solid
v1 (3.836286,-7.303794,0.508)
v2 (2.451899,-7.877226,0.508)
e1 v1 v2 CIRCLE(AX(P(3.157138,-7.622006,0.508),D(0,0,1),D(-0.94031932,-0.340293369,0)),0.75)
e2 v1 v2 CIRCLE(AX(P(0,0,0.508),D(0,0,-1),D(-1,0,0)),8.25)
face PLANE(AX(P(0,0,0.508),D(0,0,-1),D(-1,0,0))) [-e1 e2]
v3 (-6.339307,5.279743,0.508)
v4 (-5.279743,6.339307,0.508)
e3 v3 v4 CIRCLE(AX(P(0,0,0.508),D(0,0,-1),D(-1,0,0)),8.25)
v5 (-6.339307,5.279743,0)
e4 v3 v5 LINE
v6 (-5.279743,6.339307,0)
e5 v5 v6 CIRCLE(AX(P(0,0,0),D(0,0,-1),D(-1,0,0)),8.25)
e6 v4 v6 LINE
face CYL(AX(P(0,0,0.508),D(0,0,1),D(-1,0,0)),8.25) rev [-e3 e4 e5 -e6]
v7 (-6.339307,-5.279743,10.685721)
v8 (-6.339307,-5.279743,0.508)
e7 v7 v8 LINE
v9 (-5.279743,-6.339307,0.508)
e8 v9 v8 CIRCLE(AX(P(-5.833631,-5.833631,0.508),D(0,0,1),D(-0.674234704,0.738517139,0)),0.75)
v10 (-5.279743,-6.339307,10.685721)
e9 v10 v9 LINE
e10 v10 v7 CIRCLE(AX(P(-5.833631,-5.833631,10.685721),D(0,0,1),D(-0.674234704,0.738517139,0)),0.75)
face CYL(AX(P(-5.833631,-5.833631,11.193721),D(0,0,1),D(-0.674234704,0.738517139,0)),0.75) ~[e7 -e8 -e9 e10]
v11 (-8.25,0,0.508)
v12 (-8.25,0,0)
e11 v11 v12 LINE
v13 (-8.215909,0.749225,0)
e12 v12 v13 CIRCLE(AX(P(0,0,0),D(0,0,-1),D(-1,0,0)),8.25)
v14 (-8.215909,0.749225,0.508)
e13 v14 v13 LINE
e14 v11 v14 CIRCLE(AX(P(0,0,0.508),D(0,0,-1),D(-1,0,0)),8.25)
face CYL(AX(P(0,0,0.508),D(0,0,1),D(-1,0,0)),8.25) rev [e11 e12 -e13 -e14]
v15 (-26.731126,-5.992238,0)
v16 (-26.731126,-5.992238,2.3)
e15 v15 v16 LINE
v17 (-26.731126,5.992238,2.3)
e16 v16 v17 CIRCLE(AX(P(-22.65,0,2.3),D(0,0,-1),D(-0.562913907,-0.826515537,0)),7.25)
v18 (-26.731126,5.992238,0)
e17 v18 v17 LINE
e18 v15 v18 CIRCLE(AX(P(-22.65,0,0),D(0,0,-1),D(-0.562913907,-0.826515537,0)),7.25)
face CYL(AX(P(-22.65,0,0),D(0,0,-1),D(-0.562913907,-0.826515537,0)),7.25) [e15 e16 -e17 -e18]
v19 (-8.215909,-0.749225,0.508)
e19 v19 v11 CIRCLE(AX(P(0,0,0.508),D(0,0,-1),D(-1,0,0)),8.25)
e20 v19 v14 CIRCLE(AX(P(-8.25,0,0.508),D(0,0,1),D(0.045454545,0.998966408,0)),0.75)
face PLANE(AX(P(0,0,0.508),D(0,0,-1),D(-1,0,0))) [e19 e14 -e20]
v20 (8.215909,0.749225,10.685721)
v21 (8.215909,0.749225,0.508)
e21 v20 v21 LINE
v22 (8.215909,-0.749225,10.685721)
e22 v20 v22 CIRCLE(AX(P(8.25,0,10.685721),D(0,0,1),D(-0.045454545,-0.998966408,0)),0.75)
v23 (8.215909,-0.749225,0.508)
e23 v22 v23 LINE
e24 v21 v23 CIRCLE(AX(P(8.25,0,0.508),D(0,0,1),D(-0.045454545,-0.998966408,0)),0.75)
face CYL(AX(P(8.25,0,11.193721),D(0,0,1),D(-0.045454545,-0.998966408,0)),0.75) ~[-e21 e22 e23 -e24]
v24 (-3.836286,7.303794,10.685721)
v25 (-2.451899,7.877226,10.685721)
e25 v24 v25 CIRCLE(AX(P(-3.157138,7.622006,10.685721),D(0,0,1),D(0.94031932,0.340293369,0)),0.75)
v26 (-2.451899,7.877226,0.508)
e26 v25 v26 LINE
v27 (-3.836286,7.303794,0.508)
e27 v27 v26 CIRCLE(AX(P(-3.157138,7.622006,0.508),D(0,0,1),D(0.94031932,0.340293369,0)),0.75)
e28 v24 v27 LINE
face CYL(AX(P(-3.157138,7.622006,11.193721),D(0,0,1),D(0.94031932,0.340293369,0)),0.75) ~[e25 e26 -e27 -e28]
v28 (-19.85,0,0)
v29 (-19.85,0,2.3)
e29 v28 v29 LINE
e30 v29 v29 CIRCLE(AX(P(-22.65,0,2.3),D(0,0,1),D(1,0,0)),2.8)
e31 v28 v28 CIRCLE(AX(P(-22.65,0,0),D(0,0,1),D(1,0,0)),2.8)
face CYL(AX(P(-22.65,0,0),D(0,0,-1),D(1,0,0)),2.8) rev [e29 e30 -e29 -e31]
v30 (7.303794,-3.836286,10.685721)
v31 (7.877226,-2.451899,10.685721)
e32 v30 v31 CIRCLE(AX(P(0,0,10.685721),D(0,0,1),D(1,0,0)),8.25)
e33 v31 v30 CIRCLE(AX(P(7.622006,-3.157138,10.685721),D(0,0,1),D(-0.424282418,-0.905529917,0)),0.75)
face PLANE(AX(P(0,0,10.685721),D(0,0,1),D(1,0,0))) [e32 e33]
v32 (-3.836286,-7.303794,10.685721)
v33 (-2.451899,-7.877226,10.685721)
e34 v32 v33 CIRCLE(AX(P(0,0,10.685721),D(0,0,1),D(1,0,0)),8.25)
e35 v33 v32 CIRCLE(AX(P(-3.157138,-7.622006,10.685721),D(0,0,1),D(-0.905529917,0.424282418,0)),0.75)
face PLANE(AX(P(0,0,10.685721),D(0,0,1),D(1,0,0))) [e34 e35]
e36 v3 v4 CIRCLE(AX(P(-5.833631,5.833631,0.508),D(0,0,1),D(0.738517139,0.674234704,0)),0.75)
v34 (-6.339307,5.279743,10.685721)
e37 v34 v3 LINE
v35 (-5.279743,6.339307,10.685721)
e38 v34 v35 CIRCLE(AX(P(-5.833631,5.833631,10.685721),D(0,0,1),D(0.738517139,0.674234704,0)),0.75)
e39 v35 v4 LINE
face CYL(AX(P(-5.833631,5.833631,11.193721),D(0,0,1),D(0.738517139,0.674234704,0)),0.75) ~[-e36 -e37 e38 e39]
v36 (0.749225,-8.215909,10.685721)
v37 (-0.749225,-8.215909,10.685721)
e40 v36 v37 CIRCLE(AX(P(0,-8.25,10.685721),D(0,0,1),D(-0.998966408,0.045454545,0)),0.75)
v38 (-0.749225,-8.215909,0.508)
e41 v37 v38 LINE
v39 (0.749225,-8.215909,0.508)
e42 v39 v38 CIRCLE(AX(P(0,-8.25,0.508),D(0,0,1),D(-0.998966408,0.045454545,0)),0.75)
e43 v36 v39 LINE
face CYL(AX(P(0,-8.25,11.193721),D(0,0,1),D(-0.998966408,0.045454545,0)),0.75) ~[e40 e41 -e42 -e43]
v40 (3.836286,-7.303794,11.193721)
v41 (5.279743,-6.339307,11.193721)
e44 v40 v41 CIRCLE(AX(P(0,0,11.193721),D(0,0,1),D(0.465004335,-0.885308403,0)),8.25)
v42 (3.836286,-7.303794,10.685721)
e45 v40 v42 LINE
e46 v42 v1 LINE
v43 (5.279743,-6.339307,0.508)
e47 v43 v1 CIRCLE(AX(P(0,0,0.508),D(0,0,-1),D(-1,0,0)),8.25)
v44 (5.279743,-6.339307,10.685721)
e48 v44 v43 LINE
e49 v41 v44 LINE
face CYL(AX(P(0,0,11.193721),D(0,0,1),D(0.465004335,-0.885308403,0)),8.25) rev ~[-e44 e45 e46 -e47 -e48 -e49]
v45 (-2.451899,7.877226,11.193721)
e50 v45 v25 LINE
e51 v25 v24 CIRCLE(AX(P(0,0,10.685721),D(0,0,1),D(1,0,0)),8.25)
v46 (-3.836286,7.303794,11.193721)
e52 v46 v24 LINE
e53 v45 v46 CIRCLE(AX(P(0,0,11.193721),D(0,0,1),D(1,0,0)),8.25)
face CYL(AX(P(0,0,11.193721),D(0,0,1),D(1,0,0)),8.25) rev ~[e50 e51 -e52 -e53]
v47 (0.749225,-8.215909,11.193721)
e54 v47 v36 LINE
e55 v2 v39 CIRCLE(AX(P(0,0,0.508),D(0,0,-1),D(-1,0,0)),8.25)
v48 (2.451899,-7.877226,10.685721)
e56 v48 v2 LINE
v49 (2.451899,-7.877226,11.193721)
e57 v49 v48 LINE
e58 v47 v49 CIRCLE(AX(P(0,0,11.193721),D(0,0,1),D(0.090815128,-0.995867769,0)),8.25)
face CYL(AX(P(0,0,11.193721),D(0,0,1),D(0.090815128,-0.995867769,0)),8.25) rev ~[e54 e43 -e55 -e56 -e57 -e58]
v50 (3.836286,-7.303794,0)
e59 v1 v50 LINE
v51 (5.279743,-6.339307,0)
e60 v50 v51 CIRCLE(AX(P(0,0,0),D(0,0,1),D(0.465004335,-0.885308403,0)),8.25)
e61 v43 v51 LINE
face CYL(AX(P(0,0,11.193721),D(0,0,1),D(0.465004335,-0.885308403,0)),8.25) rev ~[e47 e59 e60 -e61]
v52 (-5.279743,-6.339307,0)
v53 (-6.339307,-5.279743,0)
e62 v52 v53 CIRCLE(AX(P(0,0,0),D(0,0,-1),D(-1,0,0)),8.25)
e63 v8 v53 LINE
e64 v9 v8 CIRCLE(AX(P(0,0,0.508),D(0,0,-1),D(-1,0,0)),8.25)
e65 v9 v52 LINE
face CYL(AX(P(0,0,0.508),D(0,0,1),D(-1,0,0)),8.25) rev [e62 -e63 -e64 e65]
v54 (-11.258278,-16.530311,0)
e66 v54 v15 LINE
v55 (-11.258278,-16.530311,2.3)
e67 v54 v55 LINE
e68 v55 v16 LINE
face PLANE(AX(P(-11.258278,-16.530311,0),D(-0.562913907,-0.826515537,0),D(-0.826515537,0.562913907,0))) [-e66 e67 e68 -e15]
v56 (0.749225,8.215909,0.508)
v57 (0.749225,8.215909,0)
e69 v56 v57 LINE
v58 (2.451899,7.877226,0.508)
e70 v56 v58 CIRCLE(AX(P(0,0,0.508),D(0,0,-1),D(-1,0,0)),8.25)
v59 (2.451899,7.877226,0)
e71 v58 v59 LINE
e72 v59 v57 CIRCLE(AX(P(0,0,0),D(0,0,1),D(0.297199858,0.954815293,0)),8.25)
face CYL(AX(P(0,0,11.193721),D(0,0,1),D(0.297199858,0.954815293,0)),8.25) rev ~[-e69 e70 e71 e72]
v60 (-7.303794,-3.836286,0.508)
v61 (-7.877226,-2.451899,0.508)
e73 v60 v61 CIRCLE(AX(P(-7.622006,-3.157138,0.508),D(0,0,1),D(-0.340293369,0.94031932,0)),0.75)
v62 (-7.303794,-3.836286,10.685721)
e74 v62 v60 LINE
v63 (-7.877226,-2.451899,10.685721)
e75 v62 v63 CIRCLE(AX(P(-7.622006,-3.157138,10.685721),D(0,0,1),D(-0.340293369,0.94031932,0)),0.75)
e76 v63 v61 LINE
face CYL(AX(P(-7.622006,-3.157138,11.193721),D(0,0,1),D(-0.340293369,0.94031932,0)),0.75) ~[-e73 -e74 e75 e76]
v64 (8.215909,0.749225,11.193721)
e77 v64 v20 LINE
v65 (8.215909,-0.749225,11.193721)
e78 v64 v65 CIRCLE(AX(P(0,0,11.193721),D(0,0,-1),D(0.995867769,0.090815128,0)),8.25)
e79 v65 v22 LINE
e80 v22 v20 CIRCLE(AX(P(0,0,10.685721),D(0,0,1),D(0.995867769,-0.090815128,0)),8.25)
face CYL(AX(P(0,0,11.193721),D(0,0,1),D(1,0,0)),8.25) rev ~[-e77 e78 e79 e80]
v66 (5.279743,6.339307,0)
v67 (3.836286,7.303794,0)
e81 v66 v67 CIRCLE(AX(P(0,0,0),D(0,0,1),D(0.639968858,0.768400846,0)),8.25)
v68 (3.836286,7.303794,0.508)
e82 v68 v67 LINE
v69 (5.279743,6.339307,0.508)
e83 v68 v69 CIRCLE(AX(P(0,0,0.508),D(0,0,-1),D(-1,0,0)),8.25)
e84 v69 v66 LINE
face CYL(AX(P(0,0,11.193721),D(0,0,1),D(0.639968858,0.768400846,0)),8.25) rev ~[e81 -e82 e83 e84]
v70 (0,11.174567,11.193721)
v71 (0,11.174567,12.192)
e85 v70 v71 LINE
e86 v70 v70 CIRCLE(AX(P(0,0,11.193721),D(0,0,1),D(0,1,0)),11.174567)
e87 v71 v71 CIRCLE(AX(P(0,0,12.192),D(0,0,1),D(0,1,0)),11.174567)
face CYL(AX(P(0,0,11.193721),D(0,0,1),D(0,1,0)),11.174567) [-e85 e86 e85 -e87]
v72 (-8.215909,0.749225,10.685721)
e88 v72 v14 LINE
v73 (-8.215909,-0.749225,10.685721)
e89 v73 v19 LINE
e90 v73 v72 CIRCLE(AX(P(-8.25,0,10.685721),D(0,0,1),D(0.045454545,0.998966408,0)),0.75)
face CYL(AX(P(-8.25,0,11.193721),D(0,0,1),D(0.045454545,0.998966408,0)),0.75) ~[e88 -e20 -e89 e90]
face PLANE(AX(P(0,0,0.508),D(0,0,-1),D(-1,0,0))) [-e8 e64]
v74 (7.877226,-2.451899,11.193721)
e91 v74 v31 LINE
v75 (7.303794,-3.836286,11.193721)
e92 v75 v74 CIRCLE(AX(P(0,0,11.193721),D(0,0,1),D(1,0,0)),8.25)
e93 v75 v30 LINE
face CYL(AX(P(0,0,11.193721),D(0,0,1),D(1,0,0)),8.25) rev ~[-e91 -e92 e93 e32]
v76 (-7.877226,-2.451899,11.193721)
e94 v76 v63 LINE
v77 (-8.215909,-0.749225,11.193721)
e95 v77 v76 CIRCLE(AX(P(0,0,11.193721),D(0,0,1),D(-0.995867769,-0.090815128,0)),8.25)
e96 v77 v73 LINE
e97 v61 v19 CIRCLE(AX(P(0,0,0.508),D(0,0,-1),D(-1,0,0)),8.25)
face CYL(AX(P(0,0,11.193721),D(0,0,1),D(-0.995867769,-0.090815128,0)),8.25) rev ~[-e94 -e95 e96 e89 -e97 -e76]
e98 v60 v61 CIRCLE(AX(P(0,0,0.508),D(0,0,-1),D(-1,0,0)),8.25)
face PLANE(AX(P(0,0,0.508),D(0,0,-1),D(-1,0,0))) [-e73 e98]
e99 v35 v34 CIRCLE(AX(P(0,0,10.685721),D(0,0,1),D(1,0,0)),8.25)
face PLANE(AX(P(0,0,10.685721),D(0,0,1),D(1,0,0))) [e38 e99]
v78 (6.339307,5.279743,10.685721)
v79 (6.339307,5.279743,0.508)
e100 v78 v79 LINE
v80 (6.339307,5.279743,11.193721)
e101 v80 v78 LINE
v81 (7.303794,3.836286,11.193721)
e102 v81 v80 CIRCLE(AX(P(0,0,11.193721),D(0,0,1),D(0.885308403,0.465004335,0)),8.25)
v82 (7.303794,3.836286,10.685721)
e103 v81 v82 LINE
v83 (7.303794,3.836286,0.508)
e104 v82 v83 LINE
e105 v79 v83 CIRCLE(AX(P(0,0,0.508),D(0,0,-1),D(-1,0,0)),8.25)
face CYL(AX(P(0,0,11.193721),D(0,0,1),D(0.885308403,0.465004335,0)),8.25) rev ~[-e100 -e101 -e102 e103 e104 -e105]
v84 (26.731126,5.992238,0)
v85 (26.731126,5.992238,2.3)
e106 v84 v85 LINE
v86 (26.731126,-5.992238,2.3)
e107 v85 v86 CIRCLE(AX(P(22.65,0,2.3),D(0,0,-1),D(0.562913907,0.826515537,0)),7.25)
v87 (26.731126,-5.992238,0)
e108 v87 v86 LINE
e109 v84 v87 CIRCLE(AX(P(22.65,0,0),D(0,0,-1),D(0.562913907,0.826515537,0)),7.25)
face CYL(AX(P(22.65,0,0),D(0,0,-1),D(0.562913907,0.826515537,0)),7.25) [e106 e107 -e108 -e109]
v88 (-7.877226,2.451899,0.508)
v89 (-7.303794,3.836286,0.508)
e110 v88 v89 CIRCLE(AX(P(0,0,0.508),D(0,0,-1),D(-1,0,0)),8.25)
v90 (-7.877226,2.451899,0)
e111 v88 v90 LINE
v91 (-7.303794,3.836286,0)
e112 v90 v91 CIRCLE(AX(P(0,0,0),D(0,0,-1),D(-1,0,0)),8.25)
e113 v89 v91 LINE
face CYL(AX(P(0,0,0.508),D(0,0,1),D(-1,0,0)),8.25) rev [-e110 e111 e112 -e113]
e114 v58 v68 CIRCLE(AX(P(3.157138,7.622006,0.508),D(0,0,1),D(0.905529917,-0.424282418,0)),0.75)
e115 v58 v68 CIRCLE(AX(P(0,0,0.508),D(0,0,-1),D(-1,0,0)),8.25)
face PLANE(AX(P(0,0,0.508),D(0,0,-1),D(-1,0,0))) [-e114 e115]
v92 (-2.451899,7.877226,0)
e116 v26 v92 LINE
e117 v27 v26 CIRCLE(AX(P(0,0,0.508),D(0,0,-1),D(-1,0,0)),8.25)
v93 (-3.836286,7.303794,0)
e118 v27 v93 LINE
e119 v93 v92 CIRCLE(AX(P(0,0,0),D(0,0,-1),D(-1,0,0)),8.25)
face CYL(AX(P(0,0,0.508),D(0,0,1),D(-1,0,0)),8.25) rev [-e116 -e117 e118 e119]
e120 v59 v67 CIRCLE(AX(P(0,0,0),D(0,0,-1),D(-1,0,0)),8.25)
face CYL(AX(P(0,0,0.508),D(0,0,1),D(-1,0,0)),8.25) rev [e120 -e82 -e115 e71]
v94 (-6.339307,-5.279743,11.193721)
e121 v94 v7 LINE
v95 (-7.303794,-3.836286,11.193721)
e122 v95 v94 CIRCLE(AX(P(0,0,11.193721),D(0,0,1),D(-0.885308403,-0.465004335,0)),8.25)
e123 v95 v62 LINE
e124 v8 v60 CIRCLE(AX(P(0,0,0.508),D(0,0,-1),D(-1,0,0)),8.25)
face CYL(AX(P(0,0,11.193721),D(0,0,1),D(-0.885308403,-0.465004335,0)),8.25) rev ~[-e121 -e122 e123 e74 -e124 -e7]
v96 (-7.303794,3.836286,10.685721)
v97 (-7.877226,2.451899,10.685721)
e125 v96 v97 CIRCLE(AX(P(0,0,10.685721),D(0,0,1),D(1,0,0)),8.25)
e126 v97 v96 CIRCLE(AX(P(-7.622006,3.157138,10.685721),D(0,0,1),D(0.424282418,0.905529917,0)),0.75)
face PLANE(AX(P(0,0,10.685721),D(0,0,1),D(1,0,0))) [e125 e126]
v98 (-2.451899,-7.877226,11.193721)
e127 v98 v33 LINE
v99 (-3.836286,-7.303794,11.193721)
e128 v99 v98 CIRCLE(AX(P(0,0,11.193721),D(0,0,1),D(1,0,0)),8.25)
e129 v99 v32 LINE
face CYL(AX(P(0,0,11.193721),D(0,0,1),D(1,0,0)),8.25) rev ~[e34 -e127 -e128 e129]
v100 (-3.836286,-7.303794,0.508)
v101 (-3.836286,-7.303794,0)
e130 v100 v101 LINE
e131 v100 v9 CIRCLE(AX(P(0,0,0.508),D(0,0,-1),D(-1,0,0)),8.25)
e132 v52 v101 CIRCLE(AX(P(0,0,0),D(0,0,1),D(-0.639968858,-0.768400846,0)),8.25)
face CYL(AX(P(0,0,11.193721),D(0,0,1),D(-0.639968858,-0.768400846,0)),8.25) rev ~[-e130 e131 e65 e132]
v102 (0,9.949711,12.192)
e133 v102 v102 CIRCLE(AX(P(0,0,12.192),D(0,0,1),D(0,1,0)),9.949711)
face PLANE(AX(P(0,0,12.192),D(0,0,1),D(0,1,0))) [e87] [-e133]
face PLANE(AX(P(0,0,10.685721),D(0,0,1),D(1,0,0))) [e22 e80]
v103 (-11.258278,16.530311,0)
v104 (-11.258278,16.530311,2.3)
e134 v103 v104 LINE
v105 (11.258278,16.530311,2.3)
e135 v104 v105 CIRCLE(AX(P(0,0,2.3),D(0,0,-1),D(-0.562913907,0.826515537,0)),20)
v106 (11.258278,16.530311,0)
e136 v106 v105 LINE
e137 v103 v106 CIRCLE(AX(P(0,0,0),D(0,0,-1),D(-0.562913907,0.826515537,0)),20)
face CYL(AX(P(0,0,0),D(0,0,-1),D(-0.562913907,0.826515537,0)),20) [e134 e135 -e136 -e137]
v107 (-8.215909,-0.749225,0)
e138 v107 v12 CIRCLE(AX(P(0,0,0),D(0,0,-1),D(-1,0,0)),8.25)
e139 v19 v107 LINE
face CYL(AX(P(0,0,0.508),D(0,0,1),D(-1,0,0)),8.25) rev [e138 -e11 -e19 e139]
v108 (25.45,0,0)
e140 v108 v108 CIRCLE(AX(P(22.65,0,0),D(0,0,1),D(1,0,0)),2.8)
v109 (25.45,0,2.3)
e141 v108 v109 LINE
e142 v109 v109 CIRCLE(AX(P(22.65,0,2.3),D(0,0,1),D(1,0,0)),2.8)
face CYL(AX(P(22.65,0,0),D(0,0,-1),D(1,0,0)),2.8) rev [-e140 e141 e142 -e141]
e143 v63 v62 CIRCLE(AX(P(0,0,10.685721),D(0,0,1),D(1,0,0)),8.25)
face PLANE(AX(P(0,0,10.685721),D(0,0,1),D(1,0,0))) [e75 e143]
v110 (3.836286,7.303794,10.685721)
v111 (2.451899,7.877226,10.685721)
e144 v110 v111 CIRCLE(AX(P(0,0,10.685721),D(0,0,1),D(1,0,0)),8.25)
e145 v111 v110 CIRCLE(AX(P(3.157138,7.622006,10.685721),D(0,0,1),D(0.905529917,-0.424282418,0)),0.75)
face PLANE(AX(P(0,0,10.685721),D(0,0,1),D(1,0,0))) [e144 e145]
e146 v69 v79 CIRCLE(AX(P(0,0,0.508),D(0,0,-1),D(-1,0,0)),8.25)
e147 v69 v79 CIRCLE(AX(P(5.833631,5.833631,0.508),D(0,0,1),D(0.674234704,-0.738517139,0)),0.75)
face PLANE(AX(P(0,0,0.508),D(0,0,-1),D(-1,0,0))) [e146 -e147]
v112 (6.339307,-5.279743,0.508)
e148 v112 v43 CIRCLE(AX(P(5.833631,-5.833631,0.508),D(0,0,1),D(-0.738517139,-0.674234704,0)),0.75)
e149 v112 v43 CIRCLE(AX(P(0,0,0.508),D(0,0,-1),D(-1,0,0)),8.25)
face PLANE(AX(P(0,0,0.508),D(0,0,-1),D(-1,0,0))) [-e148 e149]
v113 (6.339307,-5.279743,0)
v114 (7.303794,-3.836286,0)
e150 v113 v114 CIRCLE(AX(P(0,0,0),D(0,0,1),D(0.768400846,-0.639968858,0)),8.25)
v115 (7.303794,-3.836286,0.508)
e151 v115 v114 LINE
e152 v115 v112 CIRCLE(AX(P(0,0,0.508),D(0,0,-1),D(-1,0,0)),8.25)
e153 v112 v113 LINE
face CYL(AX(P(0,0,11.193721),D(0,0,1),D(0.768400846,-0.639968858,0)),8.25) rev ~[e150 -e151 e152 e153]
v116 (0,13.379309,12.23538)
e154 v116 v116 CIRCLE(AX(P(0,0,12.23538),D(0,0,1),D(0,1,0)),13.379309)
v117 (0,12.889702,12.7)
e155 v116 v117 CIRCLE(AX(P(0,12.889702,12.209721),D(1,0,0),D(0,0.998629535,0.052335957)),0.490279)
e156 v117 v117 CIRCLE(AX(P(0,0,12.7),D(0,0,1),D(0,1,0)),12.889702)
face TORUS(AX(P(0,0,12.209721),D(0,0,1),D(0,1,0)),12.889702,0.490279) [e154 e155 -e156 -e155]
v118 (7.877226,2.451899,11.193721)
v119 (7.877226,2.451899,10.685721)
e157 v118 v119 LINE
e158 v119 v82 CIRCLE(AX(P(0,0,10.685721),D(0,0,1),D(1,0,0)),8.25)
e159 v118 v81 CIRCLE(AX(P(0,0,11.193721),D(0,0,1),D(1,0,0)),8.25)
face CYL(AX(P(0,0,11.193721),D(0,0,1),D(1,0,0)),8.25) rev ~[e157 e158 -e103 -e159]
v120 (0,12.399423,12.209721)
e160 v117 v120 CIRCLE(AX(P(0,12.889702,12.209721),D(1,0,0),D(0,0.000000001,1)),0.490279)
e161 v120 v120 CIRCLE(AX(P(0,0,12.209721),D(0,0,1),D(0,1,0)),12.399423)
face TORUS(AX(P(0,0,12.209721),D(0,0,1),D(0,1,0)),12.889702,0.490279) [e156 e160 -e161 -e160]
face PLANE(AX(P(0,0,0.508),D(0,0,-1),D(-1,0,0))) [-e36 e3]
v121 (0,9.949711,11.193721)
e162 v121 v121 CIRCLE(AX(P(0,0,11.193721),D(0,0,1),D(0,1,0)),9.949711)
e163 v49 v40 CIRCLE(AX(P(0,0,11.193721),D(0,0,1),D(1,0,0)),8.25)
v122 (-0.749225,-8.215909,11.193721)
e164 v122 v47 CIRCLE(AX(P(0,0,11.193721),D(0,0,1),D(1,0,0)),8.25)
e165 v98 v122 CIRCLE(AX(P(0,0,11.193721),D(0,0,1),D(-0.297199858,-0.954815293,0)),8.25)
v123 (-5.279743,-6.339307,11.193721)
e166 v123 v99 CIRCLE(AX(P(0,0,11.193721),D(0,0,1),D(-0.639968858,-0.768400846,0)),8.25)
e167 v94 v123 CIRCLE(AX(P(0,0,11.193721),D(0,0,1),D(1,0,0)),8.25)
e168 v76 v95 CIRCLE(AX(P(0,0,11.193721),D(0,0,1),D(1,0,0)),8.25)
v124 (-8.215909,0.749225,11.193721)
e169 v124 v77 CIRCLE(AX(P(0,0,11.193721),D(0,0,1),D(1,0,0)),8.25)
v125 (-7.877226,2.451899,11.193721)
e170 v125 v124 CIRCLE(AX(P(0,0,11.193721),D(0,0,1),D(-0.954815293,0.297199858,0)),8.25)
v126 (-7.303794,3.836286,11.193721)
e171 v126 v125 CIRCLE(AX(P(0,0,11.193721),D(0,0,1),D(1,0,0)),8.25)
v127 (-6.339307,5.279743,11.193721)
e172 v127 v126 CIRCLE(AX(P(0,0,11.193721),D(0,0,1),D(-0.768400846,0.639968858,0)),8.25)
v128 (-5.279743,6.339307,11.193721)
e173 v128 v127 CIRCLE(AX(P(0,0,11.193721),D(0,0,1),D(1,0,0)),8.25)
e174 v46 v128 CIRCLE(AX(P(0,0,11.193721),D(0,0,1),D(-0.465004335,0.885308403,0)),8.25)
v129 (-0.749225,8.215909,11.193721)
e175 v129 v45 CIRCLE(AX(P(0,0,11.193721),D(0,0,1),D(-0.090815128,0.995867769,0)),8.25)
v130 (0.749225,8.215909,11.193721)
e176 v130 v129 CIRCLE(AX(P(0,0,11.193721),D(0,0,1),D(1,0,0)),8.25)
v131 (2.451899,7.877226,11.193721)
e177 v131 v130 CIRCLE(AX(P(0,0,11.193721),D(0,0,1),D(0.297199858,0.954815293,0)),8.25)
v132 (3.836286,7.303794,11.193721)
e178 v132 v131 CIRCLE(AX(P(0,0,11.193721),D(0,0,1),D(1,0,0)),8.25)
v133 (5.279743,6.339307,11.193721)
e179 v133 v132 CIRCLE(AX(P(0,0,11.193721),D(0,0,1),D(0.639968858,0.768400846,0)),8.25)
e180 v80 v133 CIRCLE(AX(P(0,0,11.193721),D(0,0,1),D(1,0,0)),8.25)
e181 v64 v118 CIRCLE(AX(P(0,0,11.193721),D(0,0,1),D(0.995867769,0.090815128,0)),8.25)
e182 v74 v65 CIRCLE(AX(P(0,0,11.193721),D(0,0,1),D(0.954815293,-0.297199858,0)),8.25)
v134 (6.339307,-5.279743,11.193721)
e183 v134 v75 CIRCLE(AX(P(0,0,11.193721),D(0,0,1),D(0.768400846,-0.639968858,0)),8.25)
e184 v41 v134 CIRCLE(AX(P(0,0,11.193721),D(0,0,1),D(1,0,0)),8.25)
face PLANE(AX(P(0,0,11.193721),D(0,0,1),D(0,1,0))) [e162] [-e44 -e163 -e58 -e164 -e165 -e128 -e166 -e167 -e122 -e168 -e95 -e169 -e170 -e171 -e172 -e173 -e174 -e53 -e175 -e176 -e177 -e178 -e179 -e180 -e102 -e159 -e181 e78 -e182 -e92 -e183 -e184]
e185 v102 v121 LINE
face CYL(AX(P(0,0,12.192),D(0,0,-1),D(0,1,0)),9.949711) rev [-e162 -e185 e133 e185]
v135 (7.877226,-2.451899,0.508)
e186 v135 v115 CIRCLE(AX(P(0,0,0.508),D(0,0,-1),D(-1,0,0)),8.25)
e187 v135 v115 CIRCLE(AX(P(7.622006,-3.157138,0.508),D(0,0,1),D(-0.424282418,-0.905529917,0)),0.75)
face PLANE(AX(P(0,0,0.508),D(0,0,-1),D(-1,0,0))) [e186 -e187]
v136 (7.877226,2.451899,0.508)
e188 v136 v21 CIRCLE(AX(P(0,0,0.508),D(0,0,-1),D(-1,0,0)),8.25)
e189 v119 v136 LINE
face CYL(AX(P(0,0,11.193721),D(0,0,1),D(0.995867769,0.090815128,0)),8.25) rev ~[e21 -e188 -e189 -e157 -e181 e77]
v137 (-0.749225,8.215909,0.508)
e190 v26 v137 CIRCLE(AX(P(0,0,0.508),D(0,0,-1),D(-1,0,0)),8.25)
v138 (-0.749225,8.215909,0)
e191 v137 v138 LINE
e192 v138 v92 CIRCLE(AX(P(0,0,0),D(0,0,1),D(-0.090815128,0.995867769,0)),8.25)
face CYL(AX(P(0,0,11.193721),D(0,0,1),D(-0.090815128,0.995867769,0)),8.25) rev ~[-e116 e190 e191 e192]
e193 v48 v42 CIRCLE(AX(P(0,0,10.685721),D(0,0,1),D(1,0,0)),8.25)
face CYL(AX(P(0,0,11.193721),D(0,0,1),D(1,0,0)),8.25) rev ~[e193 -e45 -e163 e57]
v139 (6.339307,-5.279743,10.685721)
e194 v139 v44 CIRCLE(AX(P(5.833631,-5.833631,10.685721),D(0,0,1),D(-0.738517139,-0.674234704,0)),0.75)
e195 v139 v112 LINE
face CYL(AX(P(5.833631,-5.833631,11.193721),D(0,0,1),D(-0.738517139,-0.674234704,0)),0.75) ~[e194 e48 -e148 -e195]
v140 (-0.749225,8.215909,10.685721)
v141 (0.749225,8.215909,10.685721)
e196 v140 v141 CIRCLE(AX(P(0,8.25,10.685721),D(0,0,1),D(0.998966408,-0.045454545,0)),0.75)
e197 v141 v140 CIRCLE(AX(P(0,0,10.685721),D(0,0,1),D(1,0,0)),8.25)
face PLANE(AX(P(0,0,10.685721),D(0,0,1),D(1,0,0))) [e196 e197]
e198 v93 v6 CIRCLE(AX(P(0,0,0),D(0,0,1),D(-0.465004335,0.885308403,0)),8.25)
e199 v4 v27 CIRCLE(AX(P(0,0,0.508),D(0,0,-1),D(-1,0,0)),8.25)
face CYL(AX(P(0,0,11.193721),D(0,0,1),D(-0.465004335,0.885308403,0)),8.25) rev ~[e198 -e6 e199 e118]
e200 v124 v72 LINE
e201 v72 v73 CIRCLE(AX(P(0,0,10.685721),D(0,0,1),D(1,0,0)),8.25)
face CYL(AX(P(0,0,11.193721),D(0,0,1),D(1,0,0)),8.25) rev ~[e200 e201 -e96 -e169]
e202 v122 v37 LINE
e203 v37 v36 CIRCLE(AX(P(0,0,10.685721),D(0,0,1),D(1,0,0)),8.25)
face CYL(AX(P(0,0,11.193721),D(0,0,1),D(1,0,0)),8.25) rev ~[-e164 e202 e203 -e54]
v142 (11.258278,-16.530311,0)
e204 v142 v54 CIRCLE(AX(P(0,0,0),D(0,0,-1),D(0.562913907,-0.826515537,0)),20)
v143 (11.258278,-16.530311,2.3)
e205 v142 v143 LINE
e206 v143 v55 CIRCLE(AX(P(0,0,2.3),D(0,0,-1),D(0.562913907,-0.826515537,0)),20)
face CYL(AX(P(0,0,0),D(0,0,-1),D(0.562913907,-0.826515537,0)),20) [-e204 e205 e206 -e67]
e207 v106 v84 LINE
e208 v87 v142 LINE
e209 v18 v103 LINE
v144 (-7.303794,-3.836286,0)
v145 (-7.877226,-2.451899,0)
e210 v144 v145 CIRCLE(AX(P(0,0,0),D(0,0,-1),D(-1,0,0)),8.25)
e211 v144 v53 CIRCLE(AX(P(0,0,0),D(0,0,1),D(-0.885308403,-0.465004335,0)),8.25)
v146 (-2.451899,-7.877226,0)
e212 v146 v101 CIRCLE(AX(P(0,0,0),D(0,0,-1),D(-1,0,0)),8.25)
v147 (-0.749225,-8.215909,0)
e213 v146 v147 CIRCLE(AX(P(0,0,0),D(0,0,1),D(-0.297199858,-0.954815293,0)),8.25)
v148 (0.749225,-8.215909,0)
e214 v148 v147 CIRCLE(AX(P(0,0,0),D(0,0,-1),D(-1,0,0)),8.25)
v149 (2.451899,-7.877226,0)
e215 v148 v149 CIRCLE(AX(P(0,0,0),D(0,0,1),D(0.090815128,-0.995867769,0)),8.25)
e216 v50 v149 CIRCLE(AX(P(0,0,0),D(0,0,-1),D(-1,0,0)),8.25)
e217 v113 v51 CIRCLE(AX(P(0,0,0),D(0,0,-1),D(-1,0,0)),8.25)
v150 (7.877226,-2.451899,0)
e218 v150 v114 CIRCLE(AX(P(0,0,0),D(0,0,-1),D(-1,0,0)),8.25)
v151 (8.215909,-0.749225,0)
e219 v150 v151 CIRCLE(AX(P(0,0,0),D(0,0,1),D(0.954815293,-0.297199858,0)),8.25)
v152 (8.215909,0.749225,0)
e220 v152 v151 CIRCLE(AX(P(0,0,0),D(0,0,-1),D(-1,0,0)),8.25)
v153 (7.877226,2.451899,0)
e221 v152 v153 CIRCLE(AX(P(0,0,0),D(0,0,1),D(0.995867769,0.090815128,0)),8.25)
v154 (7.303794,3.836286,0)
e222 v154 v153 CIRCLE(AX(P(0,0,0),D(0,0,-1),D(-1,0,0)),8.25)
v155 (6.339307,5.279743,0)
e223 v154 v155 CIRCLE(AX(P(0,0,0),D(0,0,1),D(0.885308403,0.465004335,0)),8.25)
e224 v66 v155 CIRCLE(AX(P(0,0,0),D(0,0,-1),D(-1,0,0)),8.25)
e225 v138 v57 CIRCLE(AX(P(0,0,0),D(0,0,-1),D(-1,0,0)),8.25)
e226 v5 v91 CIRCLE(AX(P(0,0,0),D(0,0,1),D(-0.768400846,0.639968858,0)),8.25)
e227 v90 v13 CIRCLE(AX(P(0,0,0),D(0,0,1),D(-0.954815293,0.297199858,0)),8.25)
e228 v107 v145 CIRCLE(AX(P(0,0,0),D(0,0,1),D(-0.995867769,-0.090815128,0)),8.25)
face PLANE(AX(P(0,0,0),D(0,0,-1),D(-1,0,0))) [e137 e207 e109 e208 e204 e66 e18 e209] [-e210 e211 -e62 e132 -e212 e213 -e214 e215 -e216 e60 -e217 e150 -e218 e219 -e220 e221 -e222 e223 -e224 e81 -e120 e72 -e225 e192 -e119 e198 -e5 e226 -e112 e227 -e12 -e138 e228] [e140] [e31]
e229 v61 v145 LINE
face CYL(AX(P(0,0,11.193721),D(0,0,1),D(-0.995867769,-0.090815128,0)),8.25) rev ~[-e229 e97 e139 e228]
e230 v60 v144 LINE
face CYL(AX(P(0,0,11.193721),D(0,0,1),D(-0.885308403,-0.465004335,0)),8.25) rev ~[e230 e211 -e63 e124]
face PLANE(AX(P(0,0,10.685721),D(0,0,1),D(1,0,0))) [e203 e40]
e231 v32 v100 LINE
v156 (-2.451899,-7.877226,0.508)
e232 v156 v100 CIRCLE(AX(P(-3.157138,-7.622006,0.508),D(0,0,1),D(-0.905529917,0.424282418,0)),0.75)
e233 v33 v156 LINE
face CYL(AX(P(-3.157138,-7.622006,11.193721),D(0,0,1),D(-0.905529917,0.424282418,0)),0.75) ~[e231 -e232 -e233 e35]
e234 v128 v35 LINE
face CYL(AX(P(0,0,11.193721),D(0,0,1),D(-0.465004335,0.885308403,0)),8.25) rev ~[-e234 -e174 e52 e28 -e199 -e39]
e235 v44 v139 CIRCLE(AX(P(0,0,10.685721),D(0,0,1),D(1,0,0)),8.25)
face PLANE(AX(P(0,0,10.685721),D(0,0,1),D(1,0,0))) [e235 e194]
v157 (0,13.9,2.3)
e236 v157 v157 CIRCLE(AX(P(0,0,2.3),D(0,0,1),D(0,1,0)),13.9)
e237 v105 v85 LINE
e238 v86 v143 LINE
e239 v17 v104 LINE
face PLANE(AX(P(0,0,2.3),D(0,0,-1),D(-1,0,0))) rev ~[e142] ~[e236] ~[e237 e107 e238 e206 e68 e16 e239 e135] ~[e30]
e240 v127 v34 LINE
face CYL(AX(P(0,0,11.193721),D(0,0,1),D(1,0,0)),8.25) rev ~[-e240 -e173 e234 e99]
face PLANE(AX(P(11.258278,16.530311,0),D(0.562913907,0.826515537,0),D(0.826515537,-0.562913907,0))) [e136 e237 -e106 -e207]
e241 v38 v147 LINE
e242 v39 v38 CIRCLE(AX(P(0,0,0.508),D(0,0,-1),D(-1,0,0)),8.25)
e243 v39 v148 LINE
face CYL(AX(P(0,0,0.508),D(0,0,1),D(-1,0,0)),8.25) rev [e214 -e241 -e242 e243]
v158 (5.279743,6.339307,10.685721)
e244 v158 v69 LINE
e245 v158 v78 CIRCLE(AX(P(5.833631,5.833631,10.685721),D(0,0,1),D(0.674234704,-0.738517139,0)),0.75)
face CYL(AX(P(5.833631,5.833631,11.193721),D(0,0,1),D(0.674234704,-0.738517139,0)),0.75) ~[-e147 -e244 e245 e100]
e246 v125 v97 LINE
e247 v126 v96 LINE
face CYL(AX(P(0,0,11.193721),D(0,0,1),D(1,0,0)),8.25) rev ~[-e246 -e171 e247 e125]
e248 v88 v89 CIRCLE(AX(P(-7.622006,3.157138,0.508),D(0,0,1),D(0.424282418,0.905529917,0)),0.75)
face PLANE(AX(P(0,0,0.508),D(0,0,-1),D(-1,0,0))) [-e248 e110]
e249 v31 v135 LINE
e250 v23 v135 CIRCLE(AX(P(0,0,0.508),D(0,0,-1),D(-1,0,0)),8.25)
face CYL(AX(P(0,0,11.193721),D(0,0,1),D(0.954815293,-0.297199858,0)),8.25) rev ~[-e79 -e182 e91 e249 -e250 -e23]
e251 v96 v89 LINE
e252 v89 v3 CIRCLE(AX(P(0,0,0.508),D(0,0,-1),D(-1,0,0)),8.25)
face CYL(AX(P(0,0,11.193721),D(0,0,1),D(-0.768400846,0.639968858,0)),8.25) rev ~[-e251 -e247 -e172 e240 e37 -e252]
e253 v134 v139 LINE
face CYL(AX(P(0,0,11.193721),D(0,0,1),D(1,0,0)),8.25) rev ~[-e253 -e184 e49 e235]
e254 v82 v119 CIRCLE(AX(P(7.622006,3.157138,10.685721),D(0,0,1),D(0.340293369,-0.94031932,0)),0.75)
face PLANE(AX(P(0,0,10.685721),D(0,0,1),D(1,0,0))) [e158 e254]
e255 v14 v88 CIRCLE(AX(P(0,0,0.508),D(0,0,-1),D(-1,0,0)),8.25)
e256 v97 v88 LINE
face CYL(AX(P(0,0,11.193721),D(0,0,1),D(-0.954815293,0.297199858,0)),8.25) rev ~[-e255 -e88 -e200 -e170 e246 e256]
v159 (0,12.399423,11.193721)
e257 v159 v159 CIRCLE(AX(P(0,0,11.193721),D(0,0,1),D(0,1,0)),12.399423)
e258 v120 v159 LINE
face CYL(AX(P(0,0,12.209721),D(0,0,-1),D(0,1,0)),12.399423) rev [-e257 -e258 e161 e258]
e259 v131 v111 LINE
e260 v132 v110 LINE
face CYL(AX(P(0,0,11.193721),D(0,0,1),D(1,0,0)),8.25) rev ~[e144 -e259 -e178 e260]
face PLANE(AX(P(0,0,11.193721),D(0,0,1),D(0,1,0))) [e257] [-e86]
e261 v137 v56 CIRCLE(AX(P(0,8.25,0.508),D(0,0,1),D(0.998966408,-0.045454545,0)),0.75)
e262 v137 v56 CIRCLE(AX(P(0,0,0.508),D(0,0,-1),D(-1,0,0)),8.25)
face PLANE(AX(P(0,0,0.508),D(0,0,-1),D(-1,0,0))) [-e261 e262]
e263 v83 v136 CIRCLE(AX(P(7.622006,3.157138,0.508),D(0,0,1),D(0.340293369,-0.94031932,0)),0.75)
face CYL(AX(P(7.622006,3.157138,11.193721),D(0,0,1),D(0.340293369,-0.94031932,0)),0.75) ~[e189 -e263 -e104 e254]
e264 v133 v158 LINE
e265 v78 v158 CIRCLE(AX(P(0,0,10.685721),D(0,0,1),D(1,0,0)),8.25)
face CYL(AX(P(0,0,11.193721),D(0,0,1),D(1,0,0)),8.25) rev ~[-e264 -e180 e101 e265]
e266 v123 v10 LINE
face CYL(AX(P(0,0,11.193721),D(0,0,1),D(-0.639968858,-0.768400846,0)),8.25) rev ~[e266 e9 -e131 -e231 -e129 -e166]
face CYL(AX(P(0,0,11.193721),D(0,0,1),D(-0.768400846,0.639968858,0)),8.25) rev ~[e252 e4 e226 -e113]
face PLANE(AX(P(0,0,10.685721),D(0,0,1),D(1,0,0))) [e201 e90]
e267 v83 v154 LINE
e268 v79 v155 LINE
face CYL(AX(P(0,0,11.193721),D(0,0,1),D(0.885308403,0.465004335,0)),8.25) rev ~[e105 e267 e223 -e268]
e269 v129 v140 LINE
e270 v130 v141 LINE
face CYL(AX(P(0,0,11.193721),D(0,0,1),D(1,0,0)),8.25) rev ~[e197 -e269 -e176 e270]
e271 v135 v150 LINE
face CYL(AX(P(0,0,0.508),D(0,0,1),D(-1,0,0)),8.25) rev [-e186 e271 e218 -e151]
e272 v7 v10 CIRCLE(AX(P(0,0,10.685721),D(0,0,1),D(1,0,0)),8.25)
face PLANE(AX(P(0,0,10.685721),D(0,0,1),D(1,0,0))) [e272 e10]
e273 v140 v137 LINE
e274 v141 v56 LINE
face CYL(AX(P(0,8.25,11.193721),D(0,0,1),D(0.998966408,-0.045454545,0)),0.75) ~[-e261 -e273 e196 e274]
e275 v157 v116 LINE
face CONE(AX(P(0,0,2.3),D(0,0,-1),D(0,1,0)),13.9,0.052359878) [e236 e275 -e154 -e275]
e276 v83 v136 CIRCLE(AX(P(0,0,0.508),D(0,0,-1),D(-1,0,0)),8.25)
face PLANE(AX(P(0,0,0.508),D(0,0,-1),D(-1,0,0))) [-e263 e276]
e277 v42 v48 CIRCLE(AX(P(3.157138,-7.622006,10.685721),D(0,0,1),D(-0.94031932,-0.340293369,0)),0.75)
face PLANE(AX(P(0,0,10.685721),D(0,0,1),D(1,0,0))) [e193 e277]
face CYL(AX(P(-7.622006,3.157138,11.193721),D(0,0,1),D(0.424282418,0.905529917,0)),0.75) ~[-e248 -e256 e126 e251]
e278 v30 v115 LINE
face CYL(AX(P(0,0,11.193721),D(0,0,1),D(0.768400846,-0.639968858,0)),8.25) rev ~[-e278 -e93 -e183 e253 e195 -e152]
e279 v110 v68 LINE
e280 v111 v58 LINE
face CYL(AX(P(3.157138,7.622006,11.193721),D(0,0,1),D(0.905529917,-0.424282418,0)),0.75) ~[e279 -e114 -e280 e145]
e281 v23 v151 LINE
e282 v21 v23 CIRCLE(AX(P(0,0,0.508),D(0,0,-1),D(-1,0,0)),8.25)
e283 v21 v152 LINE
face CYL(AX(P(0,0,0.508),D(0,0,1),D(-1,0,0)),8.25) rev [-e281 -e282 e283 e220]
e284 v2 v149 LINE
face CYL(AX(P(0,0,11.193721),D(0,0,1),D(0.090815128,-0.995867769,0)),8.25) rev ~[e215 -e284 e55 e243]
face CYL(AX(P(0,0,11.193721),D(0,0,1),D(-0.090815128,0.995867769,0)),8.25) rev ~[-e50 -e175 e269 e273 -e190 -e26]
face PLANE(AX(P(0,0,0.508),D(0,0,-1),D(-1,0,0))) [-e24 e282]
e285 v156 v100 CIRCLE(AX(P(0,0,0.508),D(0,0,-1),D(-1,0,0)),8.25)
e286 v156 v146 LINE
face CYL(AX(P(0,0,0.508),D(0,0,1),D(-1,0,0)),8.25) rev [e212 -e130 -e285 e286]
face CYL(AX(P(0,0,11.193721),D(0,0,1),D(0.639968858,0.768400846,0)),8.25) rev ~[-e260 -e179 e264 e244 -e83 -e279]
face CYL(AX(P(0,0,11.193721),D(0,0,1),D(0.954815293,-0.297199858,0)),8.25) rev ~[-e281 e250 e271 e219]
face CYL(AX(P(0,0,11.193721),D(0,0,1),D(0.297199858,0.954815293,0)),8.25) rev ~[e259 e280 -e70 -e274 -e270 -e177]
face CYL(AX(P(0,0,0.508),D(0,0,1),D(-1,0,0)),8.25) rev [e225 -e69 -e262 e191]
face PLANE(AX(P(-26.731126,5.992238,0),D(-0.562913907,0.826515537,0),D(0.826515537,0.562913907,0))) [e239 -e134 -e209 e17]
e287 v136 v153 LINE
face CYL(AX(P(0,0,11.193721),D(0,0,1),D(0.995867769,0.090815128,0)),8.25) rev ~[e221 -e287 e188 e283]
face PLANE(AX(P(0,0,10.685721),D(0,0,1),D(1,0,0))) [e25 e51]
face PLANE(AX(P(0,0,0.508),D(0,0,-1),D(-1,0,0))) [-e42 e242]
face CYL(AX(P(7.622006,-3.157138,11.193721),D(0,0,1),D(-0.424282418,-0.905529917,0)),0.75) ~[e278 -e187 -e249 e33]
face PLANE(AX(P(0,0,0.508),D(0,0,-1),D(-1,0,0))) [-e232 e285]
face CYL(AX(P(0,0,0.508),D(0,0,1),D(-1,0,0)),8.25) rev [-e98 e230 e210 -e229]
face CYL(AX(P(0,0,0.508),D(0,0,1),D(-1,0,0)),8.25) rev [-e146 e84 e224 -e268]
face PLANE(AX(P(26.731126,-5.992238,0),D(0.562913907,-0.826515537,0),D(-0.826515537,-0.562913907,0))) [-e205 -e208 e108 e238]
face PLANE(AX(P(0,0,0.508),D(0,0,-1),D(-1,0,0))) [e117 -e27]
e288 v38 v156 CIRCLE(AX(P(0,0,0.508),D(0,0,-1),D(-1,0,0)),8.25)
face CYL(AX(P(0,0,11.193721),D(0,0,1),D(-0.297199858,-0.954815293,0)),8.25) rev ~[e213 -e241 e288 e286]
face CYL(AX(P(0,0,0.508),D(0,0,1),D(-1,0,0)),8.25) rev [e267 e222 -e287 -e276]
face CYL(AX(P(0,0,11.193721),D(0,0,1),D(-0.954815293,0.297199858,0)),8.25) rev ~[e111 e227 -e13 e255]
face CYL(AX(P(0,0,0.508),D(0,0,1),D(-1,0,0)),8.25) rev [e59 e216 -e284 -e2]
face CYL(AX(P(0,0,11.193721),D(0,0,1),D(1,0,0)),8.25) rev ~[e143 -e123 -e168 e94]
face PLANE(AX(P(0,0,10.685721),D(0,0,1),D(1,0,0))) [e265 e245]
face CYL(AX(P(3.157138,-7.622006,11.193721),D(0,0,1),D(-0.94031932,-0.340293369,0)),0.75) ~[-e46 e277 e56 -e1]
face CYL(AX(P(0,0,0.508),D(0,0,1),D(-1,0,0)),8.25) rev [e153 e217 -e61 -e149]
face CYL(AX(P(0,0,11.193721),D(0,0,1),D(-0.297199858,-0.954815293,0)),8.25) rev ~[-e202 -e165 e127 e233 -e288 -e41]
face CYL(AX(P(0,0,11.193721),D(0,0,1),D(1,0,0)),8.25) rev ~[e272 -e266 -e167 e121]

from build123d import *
from build123d.topology import SkipClean

# Parameters (mm, degrees)
SKETCH1_R          = 2.8
SKETCH1_R_2        = 13.9
EXTRUDE1_DEPTH     = 2.3
CUT_EXTRUDE2_DEPTH = 38.67372281
SKETCH4_R          = 8.25
CUT_EXTRUDE3_DEPTH = 0.508
CUT_EXTRUDE4_START = -0.508
SKETCH5_R          = 8.25
CUT_EXTRUDE4_DEPTH = 0.508


with BuildPart() as part:
    # Sketch1 → Extrude1 (new body)
    with BuildSketch(Plane.XY):
        with BuildLine():
            Line((-26.731125828, 5.992237644), (-11.258278146, 16.530310741))
            ThreePointArc((-11.258278146, 16.530310741), (0, 20), (11.258278146, 16.530310741))
            Line((11.258278146, 16.530310741), (26.731125828, 5.992237644))
            ThreePointArc((26.731125828, 5.992237644), (29.9, 0), (26.731125828, -5.992237644))
            Line((26.731125828, -5.992237644), (11.258278146, -16.530310741))
            ThreePointArc((11.258278146, -16.530310741), (0, -20), (-11.258278146, -16.530310741))
            Line((-11.258278146, -16.530310741), (-26.731125828, -5.992237644))
            ThreePointArc((-26.731125828, -5.992237644), (-29.9, 0), (-26.731125828, 5.992237644))
        make_face()
        with Locations((-22.65, 0)):
            Circle(SKETCH1_R, mode=Mode.SUBTRACT)
        with Locations((22.65, 0)):
            Circle(SKETCH1_R, mode=Mode.SUBTRACT)
        Circle(SKETCH1_R_2, mode=Mode.SUBTRACT)
    extrude(amount=EXTRUDE1_DEPTH)

    # Sketch2 → Revolve1 (revolve)
    with BuildSketch(Plane(origin=(0, 0, 0), x_dir=(0, 0, -1), z_dir=(1, 0, 0))):
        with BuildLine():
            Line((0, 13.9), (-2.3, 13.9))
            Line((-2.3, 13.9), (-12.235380244, 13.379308785))
            ThreePointArc((-12.235380244, 13.379308785), (-12.565356828, 13.227187496), (-12.7, 12.889701721))
            ThreePointArc((-12.7, 12.889701721), (-12.556400613, 12.543022133), (-12.209721025, 12.399422746))
            Line((-12.209721025, 12.399422746), (-11.193721025, 12.399422746))
            Line((-11.193721025, 12.399422746), (-11.193721025, 11.17456706))
            Line((-11.193721025, 11.17456706), (-12.192, 11.17456706))
            Line((-12.192, 11.17456706), (-12.192, 9.949711373))
            Line((-12.192, 9.949711373), (-11.193721025, 9.949711373))
            Line((-11.193721025, 9.949711373), (-11.193721025, 8.724855687))
            Line((-11.193721025, 8.724855687), (-11.193721025, 7.5))
            Line((-11.193721025, 7.5), (0, 7.5))
            Line((0, 7.5), (0, 13.9))
        make_face()
    revolve(axis=Axis((0, 0, 0), (0, 0, 1)))

    # Sketch3 → Cut-Extrude2 (cut, through all)
    with BuildSketch(Plane.XY.offset(11.193721025)):
        with BuildLine():
            ThreePointArc((-3.836285754, 7.30379433), (-4.583454422, 6.859624301), (-5.279743091, 6.339306973))
            ThreePointArc((-5.279743091, 6.339306973), (-5.303300859, 5.303300859), (-6.339306973, 5.279743091))
            ThreePointArc((-6.339306973, 5.279743091), (-6.859624301, 4.583454422), (-7.30379433, 3.836285754))
            ThreePointArc((-7.30379433, 3.836285754), (-6.929096494, 2.870125743), (-7.87722617, 2.451898827))
            ThreePointArc((-7.87722617, 2.451898827), (-8.091478563, 1.609495157), (-8.215909091, 0.749224806))
            ThreePointArc((-8.215909091, 0.749224806), (-7.5, 0), (-8.215909091, -0.749224806))
            ThreePointArc((-8.215909091, -0.749224806), (-8.091478563, -1.609495157), (-7.87722617, -2.451898827))
            ThreePointArc((-7.87722617, -2.451898827), (-6.929096494, -2.870125743), (-7.30379433, -3.836285754))
            ThreePointArc((-7.30379433, -3.836285754), (-6.859624301, -4.583454422), (-6.339306973, -5.279743091))
            ThreePointArc((-6.339306973, -5.279743091), (-5.303300859, -5.303300859), (-5.279743091, -6.339306973))
            ThreePointArc((-5.279743091, -6.339306973), (-4.583454422, -6.859624301), (-3.836285754, -7.30379433))
            ThreePointArc((-3.836285754, -7.30379433), (-2.870125743, -6.929096494), (-2.451898827, -7.87722617))
            ThreePointArc((-2.451898827, -7.87722617), (-1.609495157, -8.091478563), (-0.749224806, -8.215909091))
            ThreePointArc((-0.749224806, -8.215909091), (0, -7.5), (0.749224806, -8.215909091))
            ThreePointArc((0.749224806, -8.215909091), (1.609495157, -8.091478563), (2.451898827, -7.87722617))
            ThreePointArc((2.451898827, -7.87722617), (2.870125743, -6.929096494), (3.836285754, -7.30379433))
            ThreePointArc((3.836285754, -7.30379433), (4.583454422, -6.859624301), (5.279743091, -6.339306973))
            ThreePointArc((5.279743091, -6.339306973), (5.303300859, -5.303300859), (6.339306973, -5.279743091))
            ThreePointArc((6.339306973, -5.279743091), (6.859624301, -4.583454422), (7.30379433, -3.836285754))
            ThreePointArc((7.30379433, -3.836285754), (6.929096494, -2.870125743), (7.87722617, -2.451898827))
            ThreePointArc((7.87722617, -2.451898827), (8.091478563, -1.609495157), (8.215909091, -0.749224806))
            ThreePointArc((8.215909091, -0.749224806), (7.5, 0), (8.215909091, 0.749224806))
            ThreePointArc((8.215909091, 0.749224806), (8.091478563, 1.609495157), (7.87722617, 2.451898827))
            ThreePointArc((7.87722617, 2.451898827), (6.929096494, 2.870125743), (7.30379433, 3.836285754))
            ThreePointArc((7.30379433, 3.836285754), (6.859624301, 4.583454422), (6.339306973, 5.279743091))
            ThreePointArc((6.339306973, 5.279743091), (5.303300859, 5.303300859), (5.279743091, 6.339306973))
            ThreePointArc((5.279743091, 6.339306973), (4.583454422, 6.859624301), (3.836285754, 7.30379433))
            ThreePointArc((3.836285754, 7.30379433), (2.870125743, 6.929096494), (2.451898827, 7.87722617))
            ThreePointArc((2.451898827, 7.87722617), (1.609495157, 8.091478563), (0.749224806, 8.215909091))
            ThreePointArc((0.749224806, 8.215909091), (0, 7.5), (-0.749224806, 8.215909091))
            ThreePointArc((-0.749224806, 8.215909091), (-1.609495157, 8.091478563), (-2.451898827, 7.87722617))
            ThreePointArc((-2.451898827, 7.87722617), (-2.870125743, 6.929096494), (-3.836285754, 7.30379433))
        make_face()
    extrude(amount=-CUT_EXTRUDE2_DEPTH, mode=Mode.SUBTRACT)

    # Sketch4 → Cut-Extrude3 (cut)
    with BuildSketch(Plane.XY.offset(11.193721025)):
        Circle(SKETCH4_R)
    extrude(amount=-CUT_EXTRUDE3_DEPTH, mode=Mode.SUBTRACT)

    # Sketch5 → Cut-Extrude4 (cut)
    with SkipClean():  # the faces are left unmerged after this step: merging them gives an invalid solid
        with BuildSketch(Plane(origin=(0, 0, 0), x_dir=(-1, 0, 0), z_dir=(0, 0, -1)).offset(CUT_EXTRUDE4_START)):
            Circle(SKETCH5_R)
        extrude(amount=CUT_EXTRUDE4_DEPTH, mode=Mode.SUBTRACT)


solid = part.part
